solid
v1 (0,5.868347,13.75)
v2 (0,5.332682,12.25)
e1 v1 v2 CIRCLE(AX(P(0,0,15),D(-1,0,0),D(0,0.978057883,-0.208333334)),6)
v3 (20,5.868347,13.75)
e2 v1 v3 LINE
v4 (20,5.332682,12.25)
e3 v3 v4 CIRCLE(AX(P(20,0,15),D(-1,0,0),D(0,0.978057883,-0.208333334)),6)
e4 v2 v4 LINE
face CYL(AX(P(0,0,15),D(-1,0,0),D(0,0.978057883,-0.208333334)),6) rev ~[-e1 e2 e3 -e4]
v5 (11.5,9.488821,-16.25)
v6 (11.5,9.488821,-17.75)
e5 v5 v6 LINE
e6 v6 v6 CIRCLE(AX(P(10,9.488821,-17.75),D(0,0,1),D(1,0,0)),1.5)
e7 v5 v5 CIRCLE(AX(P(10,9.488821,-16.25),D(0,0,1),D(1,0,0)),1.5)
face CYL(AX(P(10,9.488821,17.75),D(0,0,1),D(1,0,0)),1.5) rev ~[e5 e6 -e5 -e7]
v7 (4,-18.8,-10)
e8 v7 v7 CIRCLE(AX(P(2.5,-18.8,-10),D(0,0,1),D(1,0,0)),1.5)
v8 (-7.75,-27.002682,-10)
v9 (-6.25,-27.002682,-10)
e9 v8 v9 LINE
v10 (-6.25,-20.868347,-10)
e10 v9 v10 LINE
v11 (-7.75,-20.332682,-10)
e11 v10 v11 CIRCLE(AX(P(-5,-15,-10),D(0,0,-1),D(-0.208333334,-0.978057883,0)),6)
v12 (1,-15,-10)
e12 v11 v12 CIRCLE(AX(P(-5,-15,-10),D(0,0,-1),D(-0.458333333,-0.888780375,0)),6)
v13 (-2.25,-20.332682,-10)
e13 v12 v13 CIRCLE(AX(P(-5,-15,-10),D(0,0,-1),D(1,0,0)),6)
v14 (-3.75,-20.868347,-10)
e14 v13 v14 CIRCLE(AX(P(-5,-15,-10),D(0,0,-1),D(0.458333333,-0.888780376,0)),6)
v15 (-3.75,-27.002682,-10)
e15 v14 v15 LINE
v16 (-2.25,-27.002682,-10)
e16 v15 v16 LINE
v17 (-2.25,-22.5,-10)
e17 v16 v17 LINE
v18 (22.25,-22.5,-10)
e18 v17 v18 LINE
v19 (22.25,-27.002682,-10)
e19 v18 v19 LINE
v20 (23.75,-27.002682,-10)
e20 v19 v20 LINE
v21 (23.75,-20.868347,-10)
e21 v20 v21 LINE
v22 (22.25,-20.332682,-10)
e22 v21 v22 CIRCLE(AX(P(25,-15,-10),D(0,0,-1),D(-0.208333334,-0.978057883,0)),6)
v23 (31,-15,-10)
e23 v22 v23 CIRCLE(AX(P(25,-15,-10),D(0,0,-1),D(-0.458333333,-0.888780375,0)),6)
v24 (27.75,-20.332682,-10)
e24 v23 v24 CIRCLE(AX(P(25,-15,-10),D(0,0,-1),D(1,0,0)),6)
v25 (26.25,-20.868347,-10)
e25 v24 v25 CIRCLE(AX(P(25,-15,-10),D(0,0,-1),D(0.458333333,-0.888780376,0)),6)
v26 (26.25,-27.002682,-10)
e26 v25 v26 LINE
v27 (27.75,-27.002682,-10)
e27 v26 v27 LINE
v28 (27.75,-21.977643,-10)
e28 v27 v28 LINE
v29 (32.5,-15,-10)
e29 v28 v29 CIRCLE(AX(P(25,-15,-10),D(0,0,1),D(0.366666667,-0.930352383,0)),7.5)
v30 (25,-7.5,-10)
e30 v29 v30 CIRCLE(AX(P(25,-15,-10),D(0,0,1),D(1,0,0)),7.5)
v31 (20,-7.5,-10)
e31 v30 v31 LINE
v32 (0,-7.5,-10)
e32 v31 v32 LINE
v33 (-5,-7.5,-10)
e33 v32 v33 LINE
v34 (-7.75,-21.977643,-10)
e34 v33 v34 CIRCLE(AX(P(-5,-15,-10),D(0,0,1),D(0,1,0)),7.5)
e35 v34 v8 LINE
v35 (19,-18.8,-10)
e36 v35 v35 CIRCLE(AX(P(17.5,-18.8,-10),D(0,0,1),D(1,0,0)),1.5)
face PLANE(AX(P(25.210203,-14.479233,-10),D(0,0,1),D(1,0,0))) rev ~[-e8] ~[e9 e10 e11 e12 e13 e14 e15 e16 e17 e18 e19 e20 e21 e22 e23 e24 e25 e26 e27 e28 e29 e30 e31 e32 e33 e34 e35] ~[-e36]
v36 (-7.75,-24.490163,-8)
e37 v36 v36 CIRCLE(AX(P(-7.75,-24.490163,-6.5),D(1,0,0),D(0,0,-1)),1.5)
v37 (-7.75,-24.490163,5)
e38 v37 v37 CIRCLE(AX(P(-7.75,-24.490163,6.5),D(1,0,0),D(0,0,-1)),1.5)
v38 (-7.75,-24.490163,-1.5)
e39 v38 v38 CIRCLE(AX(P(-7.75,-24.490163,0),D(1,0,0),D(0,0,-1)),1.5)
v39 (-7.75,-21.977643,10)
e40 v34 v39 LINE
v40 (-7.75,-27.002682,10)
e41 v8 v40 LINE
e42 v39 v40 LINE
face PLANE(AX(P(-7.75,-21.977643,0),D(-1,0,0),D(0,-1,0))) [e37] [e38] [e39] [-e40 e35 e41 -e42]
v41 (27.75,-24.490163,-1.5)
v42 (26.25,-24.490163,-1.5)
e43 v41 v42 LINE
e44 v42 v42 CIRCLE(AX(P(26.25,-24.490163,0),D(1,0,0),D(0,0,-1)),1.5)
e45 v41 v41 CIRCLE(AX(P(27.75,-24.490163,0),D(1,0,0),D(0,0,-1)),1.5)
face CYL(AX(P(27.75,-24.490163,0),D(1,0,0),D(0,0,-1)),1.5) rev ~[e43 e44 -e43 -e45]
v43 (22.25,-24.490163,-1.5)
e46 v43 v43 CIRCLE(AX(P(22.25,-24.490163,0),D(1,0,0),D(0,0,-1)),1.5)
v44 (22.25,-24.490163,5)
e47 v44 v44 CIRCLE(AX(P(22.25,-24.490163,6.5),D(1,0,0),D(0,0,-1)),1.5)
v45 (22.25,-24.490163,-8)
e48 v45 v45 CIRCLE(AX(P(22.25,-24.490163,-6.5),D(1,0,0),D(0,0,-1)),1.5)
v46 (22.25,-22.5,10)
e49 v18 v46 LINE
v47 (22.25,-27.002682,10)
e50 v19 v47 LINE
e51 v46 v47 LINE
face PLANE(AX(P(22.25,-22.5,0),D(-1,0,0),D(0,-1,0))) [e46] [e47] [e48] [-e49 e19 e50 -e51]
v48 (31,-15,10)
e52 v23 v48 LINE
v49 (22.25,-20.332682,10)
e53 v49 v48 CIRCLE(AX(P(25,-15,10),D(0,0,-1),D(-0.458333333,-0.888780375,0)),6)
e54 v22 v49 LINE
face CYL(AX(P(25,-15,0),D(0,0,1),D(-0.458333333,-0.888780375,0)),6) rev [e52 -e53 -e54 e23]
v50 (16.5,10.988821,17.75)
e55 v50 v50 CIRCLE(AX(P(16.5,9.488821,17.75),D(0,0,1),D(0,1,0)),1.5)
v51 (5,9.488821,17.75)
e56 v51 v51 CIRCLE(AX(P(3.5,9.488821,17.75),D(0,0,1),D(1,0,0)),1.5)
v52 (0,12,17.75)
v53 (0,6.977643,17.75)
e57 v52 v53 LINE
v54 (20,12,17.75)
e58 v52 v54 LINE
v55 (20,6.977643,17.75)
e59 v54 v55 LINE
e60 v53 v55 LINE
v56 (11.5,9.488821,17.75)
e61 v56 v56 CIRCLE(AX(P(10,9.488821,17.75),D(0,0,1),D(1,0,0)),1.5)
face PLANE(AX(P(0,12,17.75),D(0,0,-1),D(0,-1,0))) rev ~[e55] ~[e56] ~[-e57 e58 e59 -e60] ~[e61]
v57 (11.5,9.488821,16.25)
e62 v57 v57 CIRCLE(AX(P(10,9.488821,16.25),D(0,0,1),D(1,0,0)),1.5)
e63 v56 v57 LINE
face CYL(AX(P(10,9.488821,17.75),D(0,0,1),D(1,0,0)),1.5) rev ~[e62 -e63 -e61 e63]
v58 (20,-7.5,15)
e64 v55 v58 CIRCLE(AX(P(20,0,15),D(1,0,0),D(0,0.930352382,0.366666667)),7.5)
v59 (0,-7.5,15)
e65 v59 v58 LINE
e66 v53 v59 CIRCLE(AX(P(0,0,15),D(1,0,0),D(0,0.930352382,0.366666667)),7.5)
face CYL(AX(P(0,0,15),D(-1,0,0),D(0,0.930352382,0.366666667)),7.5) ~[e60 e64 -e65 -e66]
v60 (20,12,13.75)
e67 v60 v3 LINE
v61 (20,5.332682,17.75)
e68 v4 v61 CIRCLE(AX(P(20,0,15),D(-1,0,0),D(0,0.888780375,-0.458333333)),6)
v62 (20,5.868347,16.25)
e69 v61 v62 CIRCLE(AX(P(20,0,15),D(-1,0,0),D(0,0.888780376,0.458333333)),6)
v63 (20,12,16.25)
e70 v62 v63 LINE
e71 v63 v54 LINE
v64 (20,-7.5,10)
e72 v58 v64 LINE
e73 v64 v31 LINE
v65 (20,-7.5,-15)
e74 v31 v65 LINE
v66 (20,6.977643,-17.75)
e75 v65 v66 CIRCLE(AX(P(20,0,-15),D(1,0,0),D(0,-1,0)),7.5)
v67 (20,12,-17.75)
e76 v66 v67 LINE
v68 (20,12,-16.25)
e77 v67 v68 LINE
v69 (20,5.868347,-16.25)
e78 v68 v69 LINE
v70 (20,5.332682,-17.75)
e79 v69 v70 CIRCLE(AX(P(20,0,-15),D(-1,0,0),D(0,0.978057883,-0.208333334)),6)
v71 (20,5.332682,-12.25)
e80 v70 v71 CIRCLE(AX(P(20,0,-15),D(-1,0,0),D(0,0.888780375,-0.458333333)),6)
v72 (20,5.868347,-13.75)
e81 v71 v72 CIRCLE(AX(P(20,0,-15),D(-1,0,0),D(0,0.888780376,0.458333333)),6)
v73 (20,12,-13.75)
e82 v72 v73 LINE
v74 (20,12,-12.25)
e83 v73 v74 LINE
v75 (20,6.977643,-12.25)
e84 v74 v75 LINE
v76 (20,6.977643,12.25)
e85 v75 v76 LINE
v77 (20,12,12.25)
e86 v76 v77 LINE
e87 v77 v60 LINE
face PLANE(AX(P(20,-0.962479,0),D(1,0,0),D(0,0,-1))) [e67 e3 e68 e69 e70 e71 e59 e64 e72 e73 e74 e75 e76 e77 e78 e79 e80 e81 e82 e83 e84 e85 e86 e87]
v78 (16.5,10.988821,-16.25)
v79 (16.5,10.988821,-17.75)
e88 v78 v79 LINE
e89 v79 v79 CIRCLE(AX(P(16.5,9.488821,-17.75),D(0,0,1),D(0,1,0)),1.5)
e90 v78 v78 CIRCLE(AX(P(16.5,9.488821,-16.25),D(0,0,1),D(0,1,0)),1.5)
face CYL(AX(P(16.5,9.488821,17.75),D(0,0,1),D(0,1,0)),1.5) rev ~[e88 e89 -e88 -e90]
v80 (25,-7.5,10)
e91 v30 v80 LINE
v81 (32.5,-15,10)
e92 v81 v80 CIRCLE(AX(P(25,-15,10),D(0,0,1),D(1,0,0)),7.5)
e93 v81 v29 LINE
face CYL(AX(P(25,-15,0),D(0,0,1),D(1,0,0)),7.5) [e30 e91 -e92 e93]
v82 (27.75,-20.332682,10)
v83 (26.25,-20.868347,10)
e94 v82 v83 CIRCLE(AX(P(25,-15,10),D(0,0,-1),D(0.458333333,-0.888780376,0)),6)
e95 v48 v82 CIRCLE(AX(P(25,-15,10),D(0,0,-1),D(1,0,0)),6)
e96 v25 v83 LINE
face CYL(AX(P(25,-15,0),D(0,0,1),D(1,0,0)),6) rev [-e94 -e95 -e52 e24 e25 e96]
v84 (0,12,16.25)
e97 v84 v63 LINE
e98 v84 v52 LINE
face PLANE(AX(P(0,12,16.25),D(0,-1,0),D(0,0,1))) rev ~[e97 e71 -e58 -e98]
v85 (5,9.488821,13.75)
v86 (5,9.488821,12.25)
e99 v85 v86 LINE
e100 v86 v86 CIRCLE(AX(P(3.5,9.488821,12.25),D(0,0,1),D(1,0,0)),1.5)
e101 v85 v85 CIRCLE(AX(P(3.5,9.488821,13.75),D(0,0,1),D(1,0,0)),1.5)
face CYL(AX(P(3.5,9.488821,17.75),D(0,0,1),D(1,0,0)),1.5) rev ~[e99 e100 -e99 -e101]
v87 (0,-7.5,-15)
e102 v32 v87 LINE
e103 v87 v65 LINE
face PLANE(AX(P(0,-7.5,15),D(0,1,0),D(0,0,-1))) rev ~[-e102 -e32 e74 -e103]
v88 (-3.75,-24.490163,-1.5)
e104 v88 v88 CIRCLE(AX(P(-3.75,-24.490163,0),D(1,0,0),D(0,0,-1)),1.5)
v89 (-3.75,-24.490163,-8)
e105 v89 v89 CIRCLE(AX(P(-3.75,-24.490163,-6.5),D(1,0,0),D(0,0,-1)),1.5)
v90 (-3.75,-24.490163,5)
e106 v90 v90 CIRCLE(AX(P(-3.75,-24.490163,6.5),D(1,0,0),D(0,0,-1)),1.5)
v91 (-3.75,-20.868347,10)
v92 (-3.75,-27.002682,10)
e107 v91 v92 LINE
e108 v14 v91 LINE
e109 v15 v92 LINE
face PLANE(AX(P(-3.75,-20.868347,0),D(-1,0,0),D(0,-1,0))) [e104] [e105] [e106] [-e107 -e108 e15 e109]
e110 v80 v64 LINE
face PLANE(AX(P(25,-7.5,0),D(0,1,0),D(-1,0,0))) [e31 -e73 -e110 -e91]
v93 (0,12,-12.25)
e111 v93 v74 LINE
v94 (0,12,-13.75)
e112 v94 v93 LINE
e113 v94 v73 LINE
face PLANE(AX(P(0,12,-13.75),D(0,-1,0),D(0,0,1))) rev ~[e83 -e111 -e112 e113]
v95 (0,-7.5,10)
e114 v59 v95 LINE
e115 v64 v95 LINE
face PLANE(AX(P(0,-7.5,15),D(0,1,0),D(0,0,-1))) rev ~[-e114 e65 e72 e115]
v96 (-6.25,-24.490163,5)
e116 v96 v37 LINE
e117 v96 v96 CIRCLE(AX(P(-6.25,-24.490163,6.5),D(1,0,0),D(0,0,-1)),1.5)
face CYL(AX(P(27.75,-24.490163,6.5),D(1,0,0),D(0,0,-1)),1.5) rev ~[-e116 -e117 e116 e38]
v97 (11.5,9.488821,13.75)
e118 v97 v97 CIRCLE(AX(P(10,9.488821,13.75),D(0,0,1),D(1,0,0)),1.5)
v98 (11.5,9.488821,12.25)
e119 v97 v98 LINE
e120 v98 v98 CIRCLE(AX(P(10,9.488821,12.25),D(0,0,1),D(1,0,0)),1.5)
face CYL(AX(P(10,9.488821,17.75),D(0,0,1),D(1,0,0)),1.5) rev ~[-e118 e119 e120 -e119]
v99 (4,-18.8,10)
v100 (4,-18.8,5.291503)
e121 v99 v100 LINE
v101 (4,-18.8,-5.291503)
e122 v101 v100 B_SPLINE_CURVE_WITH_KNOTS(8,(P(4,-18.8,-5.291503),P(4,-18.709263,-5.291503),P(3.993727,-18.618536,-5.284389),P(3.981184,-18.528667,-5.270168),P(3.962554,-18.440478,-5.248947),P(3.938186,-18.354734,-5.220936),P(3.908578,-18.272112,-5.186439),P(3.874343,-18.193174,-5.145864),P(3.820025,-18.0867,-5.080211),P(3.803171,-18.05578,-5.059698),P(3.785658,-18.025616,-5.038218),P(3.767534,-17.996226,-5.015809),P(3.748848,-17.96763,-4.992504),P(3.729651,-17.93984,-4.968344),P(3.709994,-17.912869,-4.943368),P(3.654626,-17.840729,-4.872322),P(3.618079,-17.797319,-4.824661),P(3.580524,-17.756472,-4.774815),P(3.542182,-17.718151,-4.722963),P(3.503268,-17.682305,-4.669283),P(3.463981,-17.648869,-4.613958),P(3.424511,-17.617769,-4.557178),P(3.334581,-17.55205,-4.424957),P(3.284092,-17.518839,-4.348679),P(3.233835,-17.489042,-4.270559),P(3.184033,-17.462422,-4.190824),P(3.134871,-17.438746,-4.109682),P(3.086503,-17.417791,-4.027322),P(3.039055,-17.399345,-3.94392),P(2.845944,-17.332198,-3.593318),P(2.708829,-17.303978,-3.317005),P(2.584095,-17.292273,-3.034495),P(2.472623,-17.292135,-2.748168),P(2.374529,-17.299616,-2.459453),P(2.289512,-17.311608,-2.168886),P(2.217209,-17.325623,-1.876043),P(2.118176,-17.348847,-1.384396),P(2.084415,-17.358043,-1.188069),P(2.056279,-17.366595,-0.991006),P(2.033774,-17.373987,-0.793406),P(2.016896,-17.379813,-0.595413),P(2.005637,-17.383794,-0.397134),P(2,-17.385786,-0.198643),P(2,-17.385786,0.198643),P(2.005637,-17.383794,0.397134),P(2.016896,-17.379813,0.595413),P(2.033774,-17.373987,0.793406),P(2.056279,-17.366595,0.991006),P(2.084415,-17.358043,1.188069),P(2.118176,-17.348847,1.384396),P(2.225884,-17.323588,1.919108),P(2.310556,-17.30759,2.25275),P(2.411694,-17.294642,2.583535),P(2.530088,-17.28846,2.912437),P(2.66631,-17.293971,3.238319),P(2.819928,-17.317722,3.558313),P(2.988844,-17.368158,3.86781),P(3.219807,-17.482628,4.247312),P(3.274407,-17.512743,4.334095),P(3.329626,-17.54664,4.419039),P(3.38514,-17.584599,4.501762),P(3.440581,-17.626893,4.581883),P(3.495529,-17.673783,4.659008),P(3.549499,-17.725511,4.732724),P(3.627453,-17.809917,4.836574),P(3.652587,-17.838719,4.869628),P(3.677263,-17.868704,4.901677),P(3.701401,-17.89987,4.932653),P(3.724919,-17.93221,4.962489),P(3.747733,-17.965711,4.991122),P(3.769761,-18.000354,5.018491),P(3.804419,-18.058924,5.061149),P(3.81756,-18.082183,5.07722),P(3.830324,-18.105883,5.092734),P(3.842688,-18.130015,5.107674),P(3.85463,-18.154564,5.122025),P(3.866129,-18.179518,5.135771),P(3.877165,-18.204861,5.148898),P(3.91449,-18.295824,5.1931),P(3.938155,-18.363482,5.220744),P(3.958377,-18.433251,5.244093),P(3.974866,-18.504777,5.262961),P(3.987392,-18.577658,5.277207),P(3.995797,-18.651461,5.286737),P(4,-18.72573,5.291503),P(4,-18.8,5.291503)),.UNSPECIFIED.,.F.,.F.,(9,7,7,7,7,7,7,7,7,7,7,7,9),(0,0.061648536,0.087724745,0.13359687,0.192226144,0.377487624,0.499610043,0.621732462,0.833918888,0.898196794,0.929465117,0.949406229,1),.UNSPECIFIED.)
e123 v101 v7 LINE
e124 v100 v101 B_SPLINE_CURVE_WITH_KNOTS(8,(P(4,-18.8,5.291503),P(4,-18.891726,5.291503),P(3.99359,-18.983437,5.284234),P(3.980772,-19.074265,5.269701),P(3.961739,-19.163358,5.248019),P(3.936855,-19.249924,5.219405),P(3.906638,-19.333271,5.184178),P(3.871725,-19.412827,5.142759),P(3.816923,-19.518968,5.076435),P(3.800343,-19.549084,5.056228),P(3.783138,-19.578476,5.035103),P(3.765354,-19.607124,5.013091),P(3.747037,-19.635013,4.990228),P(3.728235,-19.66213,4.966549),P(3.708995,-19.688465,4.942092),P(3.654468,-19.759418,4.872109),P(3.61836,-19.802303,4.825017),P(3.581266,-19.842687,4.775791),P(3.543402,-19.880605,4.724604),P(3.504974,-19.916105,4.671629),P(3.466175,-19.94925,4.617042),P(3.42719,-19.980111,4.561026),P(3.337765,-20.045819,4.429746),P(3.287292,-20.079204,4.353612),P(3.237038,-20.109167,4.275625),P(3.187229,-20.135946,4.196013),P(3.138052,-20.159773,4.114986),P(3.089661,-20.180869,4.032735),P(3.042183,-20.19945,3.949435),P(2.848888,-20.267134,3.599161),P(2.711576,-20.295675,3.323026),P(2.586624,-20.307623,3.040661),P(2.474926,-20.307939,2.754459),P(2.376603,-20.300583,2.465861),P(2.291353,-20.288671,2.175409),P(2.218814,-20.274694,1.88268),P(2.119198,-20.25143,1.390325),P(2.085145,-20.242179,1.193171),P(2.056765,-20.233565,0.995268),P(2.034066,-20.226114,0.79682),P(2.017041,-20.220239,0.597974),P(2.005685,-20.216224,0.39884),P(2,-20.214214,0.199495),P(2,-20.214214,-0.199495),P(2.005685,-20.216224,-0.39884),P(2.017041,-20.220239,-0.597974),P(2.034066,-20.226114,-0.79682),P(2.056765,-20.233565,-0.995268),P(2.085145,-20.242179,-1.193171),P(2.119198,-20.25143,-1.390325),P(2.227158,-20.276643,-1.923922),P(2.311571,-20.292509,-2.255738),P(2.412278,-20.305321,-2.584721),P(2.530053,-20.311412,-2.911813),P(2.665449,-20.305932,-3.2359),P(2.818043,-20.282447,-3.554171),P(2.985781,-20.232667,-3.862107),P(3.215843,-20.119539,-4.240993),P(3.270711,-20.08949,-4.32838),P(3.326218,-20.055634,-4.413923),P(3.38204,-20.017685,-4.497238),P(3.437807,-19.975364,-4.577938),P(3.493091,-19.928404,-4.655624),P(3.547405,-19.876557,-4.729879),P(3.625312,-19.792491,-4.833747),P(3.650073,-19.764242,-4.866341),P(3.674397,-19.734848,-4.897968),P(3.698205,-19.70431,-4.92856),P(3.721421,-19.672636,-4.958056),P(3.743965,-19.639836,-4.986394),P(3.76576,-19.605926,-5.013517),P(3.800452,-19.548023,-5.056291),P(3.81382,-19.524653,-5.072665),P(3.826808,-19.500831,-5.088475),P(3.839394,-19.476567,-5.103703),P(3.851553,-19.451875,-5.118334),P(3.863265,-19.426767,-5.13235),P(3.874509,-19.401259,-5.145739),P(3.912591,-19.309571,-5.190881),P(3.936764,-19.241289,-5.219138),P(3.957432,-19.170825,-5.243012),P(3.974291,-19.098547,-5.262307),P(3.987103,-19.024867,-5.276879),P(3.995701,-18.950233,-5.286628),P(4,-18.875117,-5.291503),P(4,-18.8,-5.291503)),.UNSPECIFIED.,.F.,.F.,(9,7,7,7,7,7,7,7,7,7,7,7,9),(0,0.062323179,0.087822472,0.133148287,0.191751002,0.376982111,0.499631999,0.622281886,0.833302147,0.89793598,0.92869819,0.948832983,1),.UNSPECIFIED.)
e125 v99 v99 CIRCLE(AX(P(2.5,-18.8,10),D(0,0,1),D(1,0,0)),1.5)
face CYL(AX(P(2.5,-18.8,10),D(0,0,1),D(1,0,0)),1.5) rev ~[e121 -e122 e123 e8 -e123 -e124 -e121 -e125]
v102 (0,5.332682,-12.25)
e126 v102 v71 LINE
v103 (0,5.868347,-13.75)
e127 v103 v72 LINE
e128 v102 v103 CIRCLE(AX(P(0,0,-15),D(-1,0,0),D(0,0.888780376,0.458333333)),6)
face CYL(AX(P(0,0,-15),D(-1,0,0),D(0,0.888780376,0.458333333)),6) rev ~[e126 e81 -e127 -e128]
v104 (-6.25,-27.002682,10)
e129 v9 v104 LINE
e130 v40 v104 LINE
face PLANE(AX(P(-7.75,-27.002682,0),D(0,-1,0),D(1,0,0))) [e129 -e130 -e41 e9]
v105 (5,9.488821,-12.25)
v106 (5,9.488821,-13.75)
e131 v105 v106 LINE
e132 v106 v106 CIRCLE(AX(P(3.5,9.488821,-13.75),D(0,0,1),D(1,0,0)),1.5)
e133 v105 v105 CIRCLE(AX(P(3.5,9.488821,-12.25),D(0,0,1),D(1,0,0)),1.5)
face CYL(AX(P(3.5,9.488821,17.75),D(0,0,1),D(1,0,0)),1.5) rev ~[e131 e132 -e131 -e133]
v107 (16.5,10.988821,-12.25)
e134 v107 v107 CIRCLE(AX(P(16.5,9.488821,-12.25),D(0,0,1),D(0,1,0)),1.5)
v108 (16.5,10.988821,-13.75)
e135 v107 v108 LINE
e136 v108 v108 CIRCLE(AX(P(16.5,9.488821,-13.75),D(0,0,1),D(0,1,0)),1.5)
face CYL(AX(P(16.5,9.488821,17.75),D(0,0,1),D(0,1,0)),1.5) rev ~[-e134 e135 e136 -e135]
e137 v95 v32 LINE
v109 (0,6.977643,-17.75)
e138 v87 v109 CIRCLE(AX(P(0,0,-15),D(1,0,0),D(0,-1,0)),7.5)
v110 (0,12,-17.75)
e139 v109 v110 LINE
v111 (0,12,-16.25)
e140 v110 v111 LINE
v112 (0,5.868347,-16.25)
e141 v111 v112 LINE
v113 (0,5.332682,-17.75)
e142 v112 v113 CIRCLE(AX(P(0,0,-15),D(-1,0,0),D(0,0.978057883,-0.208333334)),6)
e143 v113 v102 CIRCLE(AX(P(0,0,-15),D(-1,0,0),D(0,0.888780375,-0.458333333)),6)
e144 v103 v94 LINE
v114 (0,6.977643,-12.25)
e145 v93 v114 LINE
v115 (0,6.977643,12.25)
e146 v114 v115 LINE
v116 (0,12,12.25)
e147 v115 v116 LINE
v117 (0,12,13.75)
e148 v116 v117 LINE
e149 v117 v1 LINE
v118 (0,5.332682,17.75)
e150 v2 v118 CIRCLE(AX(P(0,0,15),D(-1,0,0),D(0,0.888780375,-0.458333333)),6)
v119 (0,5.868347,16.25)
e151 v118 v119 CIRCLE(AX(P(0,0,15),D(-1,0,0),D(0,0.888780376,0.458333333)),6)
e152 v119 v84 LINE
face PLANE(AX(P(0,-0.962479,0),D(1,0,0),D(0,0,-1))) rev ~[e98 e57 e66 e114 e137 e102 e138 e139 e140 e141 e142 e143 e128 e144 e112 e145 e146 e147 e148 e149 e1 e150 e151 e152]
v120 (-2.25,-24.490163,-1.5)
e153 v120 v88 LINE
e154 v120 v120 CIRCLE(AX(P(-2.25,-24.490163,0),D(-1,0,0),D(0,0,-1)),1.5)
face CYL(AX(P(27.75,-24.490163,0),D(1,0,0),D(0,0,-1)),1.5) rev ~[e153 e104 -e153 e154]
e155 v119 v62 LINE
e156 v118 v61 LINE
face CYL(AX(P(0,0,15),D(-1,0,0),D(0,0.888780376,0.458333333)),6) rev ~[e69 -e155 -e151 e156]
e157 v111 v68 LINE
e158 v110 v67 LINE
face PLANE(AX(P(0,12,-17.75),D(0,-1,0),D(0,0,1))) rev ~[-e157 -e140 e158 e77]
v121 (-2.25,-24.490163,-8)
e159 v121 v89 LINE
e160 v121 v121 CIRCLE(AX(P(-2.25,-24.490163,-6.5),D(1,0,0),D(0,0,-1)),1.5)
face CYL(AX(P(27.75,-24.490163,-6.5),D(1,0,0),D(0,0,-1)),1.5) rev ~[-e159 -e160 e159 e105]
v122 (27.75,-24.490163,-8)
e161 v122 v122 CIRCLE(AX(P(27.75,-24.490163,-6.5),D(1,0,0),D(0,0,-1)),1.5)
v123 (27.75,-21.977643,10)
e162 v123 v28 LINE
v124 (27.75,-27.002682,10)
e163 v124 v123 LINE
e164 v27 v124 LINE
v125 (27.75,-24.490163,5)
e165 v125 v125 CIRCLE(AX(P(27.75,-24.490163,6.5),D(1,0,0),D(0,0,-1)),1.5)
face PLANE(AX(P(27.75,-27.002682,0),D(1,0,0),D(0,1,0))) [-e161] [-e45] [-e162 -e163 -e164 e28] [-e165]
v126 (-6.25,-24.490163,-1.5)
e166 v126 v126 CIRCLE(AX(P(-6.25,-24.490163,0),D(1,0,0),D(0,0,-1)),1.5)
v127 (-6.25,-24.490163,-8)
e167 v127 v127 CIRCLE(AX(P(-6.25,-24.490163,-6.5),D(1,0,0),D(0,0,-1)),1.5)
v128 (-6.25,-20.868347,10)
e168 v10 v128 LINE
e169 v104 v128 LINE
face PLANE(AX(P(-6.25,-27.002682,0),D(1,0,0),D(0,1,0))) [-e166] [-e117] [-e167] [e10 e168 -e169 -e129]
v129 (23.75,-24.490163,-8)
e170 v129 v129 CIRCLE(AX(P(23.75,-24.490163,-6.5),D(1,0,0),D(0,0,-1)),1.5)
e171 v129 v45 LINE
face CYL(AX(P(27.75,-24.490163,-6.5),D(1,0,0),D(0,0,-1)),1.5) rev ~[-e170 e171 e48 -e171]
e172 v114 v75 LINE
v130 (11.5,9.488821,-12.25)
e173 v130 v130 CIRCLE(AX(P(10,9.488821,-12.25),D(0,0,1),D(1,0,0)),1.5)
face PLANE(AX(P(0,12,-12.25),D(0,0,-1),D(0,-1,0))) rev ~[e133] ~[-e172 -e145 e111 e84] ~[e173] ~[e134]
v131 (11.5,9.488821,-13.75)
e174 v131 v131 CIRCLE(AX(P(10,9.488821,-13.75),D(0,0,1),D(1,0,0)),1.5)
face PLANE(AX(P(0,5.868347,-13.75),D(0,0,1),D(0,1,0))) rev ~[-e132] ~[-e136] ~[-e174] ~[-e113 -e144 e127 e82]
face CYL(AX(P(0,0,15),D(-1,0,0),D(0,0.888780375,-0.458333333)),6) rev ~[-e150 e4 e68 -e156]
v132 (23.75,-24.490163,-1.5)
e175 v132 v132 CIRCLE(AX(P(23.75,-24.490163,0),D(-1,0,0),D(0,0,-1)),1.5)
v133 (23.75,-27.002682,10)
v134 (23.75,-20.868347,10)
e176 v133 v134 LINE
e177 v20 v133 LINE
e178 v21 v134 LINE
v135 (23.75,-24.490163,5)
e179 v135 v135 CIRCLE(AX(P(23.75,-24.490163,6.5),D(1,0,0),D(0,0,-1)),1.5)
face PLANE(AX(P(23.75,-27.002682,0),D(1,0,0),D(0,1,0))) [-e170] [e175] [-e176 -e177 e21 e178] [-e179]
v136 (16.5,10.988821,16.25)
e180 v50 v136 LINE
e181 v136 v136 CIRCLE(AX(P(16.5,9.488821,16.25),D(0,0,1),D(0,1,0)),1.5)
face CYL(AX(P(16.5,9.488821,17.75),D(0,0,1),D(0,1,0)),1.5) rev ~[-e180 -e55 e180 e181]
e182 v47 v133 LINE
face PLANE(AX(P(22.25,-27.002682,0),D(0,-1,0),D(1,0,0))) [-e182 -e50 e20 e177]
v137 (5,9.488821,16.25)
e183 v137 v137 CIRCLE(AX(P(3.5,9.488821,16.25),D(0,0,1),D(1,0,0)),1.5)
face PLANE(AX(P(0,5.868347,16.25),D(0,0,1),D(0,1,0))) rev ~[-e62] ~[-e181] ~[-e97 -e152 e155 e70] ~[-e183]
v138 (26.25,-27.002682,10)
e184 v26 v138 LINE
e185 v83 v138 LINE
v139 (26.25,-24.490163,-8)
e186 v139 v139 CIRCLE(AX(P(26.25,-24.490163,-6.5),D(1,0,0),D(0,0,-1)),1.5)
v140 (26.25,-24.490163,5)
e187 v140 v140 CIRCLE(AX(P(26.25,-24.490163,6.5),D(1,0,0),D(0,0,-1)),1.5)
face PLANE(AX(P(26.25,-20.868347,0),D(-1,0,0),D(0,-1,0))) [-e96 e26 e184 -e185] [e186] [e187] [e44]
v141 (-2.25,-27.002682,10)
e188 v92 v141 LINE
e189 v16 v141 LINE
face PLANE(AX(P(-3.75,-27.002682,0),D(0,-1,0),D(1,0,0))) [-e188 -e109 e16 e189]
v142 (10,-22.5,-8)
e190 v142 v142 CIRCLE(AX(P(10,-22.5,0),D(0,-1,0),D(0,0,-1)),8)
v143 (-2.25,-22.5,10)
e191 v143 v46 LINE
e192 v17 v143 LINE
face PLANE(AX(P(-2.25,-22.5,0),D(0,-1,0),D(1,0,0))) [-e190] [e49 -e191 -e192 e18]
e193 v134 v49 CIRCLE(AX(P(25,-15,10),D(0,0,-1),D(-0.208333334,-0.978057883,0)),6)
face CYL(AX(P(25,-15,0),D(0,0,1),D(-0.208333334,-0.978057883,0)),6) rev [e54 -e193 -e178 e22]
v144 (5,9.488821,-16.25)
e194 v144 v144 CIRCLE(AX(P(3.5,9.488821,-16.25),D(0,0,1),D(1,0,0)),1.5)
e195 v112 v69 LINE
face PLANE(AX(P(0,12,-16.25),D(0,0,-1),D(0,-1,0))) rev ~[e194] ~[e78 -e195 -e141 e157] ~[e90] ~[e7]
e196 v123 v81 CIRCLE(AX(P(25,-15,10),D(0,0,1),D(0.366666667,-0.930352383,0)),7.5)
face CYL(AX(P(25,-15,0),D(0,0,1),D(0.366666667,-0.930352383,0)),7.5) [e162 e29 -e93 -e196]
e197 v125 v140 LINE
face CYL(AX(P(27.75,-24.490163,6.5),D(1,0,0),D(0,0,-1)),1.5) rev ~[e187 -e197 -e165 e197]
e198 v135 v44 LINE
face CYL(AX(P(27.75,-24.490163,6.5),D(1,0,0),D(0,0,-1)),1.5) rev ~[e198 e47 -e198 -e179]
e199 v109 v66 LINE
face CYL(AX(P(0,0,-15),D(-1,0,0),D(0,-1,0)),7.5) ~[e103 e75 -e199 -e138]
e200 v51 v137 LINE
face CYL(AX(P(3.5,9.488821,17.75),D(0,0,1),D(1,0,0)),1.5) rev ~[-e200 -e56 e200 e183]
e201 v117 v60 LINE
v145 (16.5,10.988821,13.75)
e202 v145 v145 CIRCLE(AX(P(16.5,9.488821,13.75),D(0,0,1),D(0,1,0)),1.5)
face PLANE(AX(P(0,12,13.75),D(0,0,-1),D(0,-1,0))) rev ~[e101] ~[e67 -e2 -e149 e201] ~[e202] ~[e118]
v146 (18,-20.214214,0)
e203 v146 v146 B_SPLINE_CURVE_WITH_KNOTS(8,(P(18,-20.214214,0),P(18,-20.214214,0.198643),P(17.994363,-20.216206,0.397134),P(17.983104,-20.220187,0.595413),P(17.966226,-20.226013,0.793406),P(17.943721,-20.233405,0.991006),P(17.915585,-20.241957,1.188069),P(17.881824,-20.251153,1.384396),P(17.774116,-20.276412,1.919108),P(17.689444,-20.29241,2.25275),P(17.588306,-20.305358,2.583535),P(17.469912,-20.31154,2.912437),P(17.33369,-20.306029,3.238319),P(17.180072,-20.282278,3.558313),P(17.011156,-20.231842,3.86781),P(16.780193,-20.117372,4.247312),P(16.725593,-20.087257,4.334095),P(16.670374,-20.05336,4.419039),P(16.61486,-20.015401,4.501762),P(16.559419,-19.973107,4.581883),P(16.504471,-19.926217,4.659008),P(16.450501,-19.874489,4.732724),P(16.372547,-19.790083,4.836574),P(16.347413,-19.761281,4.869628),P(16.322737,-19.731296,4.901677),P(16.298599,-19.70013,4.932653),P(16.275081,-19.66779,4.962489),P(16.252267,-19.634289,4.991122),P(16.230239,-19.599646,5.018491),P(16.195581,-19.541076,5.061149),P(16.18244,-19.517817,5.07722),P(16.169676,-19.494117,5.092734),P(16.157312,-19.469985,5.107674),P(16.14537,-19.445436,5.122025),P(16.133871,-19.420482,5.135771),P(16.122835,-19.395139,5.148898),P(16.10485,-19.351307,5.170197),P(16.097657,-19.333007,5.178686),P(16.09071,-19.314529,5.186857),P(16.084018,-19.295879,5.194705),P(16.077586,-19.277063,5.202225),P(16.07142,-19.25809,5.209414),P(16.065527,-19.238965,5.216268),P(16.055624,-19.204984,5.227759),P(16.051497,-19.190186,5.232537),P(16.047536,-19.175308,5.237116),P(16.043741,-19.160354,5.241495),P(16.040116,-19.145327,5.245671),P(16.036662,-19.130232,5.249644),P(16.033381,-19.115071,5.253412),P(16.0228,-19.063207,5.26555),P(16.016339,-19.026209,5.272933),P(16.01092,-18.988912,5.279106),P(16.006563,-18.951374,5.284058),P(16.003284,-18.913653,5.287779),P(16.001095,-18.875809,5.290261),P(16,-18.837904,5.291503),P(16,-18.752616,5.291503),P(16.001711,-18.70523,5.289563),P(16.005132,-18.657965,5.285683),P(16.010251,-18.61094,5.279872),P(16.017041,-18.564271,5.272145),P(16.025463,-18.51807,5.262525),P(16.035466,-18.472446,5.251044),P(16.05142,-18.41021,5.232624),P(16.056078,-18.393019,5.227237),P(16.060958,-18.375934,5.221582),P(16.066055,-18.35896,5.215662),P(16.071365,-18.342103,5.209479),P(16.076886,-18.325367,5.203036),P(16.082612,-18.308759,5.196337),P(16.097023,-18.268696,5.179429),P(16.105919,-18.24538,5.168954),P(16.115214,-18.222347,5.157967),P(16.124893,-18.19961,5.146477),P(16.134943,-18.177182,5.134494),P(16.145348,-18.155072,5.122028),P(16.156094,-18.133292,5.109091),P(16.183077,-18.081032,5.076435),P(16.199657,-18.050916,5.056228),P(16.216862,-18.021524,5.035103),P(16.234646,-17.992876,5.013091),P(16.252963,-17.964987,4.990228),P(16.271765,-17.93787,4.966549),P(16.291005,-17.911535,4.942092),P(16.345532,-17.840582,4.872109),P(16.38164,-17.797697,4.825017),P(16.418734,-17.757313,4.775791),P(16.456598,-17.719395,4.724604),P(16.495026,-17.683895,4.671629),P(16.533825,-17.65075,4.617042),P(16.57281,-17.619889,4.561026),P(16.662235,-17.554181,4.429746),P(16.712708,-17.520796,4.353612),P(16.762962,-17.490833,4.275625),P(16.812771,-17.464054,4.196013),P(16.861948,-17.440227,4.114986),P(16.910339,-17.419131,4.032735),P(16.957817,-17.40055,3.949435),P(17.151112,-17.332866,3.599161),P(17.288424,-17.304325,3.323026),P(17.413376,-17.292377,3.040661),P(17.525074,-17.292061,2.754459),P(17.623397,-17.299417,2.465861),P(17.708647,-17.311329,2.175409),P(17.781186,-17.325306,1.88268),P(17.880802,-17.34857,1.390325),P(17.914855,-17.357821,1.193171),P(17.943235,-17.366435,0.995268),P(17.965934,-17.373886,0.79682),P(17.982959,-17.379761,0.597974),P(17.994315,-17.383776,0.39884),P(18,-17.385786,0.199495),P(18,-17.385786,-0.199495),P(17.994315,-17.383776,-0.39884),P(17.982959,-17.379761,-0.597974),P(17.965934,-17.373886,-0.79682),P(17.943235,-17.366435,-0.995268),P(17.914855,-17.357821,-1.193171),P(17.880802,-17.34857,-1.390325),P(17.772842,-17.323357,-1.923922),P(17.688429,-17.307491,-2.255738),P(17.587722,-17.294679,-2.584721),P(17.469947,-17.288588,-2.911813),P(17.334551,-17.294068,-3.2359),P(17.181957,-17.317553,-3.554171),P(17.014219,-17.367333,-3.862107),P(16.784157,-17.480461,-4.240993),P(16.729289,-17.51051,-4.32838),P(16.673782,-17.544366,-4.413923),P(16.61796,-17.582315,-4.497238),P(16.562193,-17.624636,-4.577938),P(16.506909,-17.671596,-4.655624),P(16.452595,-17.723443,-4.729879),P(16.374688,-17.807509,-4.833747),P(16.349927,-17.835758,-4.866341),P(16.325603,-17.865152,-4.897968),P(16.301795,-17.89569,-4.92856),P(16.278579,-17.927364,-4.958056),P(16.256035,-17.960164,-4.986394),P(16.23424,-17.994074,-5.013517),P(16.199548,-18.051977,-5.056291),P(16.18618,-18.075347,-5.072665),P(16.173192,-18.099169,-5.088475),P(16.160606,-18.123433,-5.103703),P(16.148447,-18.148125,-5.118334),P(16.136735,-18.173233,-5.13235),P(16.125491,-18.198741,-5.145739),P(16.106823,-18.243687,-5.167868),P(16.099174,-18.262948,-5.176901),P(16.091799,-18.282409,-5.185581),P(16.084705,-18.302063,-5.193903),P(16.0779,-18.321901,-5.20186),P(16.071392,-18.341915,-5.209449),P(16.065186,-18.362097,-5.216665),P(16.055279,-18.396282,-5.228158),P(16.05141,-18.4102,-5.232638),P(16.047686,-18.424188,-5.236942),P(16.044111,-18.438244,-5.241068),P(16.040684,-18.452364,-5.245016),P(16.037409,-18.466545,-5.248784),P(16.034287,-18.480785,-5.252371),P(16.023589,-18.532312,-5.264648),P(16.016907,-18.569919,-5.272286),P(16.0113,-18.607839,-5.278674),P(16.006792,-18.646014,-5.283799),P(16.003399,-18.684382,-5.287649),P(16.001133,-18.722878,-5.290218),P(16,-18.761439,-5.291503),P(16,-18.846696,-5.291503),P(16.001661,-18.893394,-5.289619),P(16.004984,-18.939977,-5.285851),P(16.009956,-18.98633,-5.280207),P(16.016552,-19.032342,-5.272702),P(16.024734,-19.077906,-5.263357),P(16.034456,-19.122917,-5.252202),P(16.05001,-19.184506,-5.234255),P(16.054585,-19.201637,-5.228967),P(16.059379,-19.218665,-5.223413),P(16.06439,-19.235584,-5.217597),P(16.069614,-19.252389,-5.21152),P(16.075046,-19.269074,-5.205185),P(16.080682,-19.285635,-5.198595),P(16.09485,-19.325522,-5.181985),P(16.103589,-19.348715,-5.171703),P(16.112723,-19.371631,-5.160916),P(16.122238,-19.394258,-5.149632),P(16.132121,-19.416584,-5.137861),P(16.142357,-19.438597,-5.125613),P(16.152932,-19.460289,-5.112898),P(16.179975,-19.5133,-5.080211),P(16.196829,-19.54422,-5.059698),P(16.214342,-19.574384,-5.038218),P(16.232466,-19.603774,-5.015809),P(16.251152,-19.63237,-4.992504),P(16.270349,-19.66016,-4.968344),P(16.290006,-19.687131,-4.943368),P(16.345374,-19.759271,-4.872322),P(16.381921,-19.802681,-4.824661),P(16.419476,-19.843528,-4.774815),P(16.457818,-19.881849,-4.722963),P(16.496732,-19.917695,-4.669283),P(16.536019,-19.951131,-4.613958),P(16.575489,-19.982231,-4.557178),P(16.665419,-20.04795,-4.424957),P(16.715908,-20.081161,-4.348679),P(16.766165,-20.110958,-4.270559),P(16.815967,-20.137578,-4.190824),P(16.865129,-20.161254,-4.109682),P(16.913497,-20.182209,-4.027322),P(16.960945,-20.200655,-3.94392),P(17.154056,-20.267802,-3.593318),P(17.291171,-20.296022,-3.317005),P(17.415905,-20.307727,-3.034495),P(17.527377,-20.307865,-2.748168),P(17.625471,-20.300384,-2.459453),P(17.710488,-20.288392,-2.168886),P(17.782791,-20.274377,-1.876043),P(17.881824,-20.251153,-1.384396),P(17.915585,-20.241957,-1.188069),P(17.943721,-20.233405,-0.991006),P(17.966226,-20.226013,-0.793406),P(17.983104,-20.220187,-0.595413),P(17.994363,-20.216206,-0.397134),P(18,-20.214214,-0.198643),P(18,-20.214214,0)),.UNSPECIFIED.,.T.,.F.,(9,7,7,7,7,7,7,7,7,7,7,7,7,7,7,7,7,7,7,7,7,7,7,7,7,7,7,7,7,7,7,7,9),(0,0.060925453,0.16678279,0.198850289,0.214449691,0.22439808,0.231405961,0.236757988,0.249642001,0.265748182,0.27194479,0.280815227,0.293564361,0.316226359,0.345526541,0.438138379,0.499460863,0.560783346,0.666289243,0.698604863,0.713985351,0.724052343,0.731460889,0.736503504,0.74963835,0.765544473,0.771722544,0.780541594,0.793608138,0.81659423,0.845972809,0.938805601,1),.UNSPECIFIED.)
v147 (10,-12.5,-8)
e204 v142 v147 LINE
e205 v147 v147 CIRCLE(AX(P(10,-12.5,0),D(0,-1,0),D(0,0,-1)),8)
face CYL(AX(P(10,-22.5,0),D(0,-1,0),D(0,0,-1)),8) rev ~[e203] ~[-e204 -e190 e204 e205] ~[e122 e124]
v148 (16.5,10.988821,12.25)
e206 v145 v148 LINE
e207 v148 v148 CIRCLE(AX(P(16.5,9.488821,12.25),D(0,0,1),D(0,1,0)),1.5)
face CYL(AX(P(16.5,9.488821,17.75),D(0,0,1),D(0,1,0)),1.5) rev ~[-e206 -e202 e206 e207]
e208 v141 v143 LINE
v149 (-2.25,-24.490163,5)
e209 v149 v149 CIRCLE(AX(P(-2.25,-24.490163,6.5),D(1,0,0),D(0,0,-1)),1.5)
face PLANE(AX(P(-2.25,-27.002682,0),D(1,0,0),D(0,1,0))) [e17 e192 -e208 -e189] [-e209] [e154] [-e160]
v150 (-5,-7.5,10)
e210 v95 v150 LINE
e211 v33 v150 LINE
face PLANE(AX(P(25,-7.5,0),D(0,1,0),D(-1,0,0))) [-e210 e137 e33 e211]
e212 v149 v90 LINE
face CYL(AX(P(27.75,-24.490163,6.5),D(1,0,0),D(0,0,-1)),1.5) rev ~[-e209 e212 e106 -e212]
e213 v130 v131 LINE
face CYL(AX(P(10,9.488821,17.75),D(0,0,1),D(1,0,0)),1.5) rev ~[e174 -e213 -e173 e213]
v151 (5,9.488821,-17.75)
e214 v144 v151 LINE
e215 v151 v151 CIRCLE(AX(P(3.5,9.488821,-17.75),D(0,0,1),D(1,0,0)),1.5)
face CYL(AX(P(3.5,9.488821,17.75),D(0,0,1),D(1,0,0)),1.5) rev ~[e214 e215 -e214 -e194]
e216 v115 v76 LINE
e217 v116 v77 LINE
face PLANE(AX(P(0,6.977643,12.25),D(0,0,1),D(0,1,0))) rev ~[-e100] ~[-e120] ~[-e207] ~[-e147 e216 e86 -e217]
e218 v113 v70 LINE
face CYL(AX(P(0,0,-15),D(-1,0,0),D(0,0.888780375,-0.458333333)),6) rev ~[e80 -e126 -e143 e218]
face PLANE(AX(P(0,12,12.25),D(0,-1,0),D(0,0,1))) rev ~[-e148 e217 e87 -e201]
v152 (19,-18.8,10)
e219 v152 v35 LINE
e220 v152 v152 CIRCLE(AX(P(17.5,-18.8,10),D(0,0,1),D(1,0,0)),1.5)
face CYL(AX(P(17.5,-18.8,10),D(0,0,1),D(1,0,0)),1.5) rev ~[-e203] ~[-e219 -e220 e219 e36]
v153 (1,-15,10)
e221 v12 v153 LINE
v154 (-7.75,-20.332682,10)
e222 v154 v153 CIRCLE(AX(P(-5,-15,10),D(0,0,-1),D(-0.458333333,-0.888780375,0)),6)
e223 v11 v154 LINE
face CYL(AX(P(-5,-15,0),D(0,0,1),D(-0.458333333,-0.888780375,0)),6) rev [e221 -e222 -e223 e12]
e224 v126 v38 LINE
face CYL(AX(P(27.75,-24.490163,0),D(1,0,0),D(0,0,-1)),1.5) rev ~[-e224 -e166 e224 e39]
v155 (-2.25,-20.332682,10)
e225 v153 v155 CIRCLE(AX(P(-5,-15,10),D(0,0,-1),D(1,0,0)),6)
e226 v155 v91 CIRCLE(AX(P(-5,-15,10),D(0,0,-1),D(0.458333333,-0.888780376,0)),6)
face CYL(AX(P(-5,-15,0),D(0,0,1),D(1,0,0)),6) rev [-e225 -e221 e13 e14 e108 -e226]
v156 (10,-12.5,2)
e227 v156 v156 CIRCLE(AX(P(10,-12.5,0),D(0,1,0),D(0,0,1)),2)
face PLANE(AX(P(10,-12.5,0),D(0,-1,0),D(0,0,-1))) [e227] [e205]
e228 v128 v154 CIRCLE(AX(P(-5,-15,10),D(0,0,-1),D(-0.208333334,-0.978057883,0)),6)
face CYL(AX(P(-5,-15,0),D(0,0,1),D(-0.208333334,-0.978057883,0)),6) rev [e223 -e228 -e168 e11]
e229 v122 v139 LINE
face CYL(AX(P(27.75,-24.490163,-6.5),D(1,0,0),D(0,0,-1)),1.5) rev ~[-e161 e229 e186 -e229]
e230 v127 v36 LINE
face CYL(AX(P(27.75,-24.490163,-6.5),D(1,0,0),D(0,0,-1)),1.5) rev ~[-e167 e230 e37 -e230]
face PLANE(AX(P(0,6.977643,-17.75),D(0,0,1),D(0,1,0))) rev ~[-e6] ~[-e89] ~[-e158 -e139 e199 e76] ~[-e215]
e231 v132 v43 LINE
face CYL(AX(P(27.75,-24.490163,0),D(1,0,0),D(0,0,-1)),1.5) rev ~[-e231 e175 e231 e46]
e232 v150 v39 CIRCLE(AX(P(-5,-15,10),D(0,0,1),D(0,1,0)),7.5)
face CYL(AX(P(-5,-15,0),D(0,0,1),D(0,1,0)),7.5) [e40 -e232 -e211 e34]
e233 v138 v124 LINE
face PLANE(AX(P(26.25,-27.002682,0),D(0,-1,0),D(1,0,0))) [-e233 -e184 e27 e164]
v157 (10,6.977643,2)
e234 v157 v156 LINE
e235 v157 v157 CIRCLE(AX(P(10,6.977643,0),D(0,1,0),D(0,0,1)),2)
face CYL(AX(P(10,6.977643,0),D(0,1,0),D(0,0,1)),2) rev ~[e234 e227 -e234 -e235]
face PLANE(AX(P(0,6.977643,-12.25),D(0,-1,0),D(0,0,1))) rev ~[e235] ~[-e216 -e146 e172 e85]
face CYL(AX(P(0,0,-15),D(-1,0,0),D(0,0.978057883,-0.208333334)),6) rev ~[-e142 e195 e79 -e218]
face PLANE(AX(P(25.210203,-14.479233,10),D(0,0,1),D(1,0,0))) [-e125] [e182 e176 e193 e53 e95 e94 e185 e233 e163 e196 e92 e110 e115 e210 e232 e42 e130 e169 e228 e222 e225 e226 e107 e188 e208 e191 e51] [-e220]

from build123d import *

# Parameters (mm, degrees)
EXTRUDE_1_DEPTH     = 20
SKETCH_2_R          = 1.5
CUT_EXTRUDE_1_DEPTH = 47.519485165
SKETCH_5_W          = 1.5
SKETCH_5_H          = 4.502682252
EXTRUDE_2_DEPTH     = 10
SKETCH_6_R          = 1.5
CUT_EXTRUDE_2_DEPTH = 54.43647957
SKETCH_7_R          = 2
CUT_EXTRUDE_3_DEPTH = 53.126408809
SKETCH_8_R          = 8
CUT_EXTRUDE_4_DEPTH = 10
SKETCH_9_R          = 1.5
CUT_EXTRUDE_5_DEPTH = 54.307080663


with BuildPart() as part:
    # 스케치1 → 보스-돌출1 (new body)
    with BuildSketch(Plane(origin=(0, 0, 0), x_dir=(0, 0, -1), z_dir=(1, 0, 0))):
        with BuildLine():
            ThreePointArc((-12.25, 6.977642868), (-7.631746424, -1.399585383), (-15, -7.5))
            Line((-15, -7.5), (15, -7.5))
            ThreePointArc((15, -7.5), (7.631746424, -1.399585383), (12.25, 6.977642868))
            Line((12.25, 6.977642868), (-12.25, 6.977642868))
        make_face()
        with BuildLine():
            Line((-17.75, 5.332682252), (-17.75, 6.977642868))
            ThreePointArc((-17.75, 6.977642868), (-22.368253576, -1.399585383), (-15, -7.5))
            ThreePointArc((-15, -7.5), (-7.631746424, -1.399585383), (-12.25, 6.977642868))
            Line((-12.25, 6.977642868), (-12.25, 5.332682252))
            ThreePointArc((-12.25, 5.332682252), (-15, -6), (-17.75, 5.332682252))
        make_face()
        with BuildLine():
            ThreePointArc((-13.75, 5.868347297), (-12.982146125, 5.650510219), (-12.25, 5.332682252))
            Line((-12.25, 5.332682252), (-12.25, 6.977642868))
            ThreePointArc((-12.25, 6.977642868), (-12.989137608, 7.225401888), (-13.75, 7.395099729))
            Line((-13.75, 7.395099729), (-13.75, 5.868347297))
        make_face()
        with BuildLine():
            ThreePointArc((-16.25, 7.395099729), (-17.010862392, 7.225401888), (-17.75, 6.977642868))
            Line((-17.75, 6.977642868), (-17.75, 5.332682252))
            ThreePointArc((-17.75, 5.332682252), (-17.017853875, 5.650510219), (-16.25, 5.868347297))
            Line((-16.25, 5.868347297), (-16.25, 7.395099729))
        make_face()
        with BuildLine():
            Line((-16.25, 12), (-17.75, 12))
            Line((-17.75, 12), (-17.75, 6.977642868))
            ThreePointArc((-17.75, 6.977642868), (-17.010862392, 7.225401888), (-16.25, 7.395099729))
            Line((-16.25, 7.395099729), (-16.25, 10.5))
            Line((-16.25, 10.5), (-16.25, 12))
        make_face()
        with BuildLine():
            ThreePointArc((-13.75, 7.395099729), (-12.989137608, 7.225401888), (-12.25, 6.977642868))
            Line((-12.25, 6.977642868), (-12.25, 12))
            Line((-12.25, 12), (-13.75, 12))
            Line((-13.75, 12), (-13.75, 10.5))
            Line((-13.75, 10.5), (-13.75, 7.395099729))
        make_face()
        with BuildLine():
            ThreePointArc((12.25, 6.977642868), (7.631746424, -1.399585383), (15, -7.5))
            ThreePointArc((15, -7.5), (22.368253576, -1.399585383), (17.75, 6.977642868))
            Line((17.75, 6.977642868), (17.75, 5.332682252))
            ThreePointArc((17.75, 5.332682252), (15, -6), (12.25, 5.332682252))
            Line((12.25, 5.332682252), (12.25, 6.977642868))
        make_face()
        with BuildLine():
            Line((17.75, 5.332682252), (17.75, 6.977642868))
            ThreePointArc((17.75, 6.977642868), (17.010862392, 7.225401888), (16.25, 7.395099729))
            Line((16.25, 7.395099729), (16.25, 5.868347297))
            ThreePointArc((16.25, 5.868347297), (17.017853875, 5.650510219), (17.75, 5.332682252))
        make_face()
        with BuildLine():
            ThreePointArc((16.25, 7.395099729), (17.010862392, 7.225401888), (17.75, 6.977642868))
            Line((17.75, 6.977642868), (17.75, 12))
            Line((17.75, 12), (16.25, 12))
            Line((16.25, 12), (16.25, 10.5))
            Line((16.25, 10.5), (16.25, 7.395099729))
        make_face()
        with BuildLine():
            Line((12.25, 12), (12.25, 6.977642868))
            ThreePointArc((12.25, 6.977642868), (12.989137608, 7.225401888), (13.75, 7.395099729))
            Line((13.75, 7.395099729), (13.75, 10.5))
            Line((13.75, 10.5), (13.75, 12))
            Line((13.75, 12), (12.25, 12))
        make_face()
        with BuildLine():
            ThreePointArc((13.75, 7.395099729), (12.989137608, 7.225401888), (12.25, 6.977642868))
            Line((12.25, 6.977642868), (12.25, 5.332682252))
            ThreePointArc((12.25, 5.332682252), (12.982146125, 5.650510219), (13.75, 5.868347297))
            Line((13.75, 5.868347297), (13.75, 7.395099729))
        make_face()
    extrude(amount=EXTRUDE_1_DEPTH)

    # 스케치2 → 컷-돌출1 (cut, through all)
    with BuildSketch(Plane.XY.offset(17.75)):
        with Locations((3.5, 9.488821434)):
            Circle(SKETCH_2_R)
        with Locations((10, 9.488821434)):
            Circle(SKETCH_2_R)
        with Locations(Location((16.5, 9.488821434, 0), (0, 0, 90))):
            Circle(SKETCH_2_R)
    extrude(amount=-CUT_EXTRUDE_1_DEPTH, mode=Mode.SUBTRACT)

    # 스케치5 → 보스-돌출2 (add, symmetric)
    with BuildSketch(Plane.XY):
        with BuildLine():
            ThreePointArc((32.5, -15), (30.303300859, -9.696699141), (25, -7.5))
            ThreePointArc((25, -7.5), (17.631746424, -13.600414617), (22.25, -21.977642868))
            Line((22.25, -21.977642868), (22.25, -20.332682252))
            ThreePointArc((22.25, -20.332682252), (21.877501001, -9.876524617), (31, -15))
            ThreePointArc((31, -15), (30.123475383, -18.122498999), (27.75, -20.332682252))
            Line((27.75, -20.332682252), (27.75, -21.977642868))
            ThreePointArc((27.75, -21.977642868), (31.199798384, -19.220485754), (32.5, -15))
        make_face()
        with BuildLine():
            Line((22.25, -20.332682252), (22.25, -21.977642868))
            ThreePointArc((22.25, -21.977642868), (22.989137608, -22.225401888), (23.75, -22.395099729))
            Line((23.75, -22.395099729), (23.75, -20.868347297))
            ThreePointArc((23.75, -20.868347297), (22.982146125, -20.650510219), (22.25, -20.332682252))
        make_face()
        with BuildLine():
            ThreePointArc((26.25, -22.395099729), (27.010862392, -22.225401888), (27.75, -21.977642868))
            Line((27.75, -21.977642868), (27.75, -20.332682252))
            ThreePointArc((27.75, -20.332682252), (27.017853875, -20.650510219), (26.25, -20.868347297))
            Line((26.25, -20.868347297), (26.25, -22.395099729))
        make_face()
        with BuildLine():
            Line((27.75, -27.002682252), (27.75, -21.977642868))
            ThreePointArc((27.75, -21.977642868), (27.010862392, -22.225401888), (26.25, -22.395099729))
            Line((26.25, -22.395099729), (26.25, -27.002682252))
            Line((26.25, -27.002682252), (27.75, -27.002682252))
        make_face()
        with BuildLine():
            ThreePointArc((23.75, -22.395099729), (22.989137608, -22.225401888), (22.25, -21.977642868))
            Line((22.25, -21.977642868), (22.25, -22.5))
            Line((22.25, -22.5), (23.75, -22.5))
            Line((23.75, -22.5), (23.75, -22.395099729))
        make_face()
        with Locations((23, -24.751341126)):
            Rectangle(SKETCH_5_W, SKETCH_5_H)
        with BuildLine():
            ThreePointArc((22.25, -21.977642868), (17.631746424, -13.600414617), (25, -7.5))
            Line((25, -7.5), (20, -7.5))
            Line((20, -7.5), (0, -7.5))
            Line((0, -7.5), (-5, -7.5))
            ThreePointArc((-5, -7.5), (0.303300859, -9.696699141), (2.5, -15))
            ThreePointArc((2.5, -15), (1.199798384, -19.220485754), (-2.25, -21.977642868))
            Line((-2.25, -21.977642868), (-2.25, -22.5))
            Line((-2.25, -22.5), (22.25, -22.5))
            Line((22.25, -22.5), (22.25, -21.977642868))
        make_face()
        with BuildLine():
            ThreePointArc((2.5, -15), (0.303300859, -9.696699141), (-5, -7.5))
            ThreePointArc((-5, -7.5), (-12.368253576, -13.600414617), (-7.75, -21.977642868))
            Line((-7.75, -21.977642868), (-7.75, -20.332682252))
            ThreePointArc((-7.75, -20.332682252), (-8.122498999, -9.876524617), (1, -15))
            ThreePointArc((1, -15), (0.123475383, -18.122498999), (-2.25, -20.332682252))
            Line((-2.25, -20.332682252), (-2.25, -21.977642868))
            ThreePointArc((-2.25, -21.977642868), (1.199798384, -19.220485754), (2.5, -15))
        make_face()
        with BuildLine():
            Line((-7.75, -20.332682252), (-7.75, -21.977642868))
            ThreePointArc((-7.75, -21.977642868), (-7.010862392, -22.225401888), (-6.25, -22.395099729))
            Line((-6.25, -22.395099729), (-6.25, -20.868347297))
            ThreePointArc((-6.25, -20.868347297), (-7.017853875, -20.650510219), (-7.75, -20.332682252))
        make_face()
        with BuildLine():
            ThreePointArc((-6.25, -22.395099729), (-7.010862392, -22.225401888), (-7.75, -21.977642868))
            Line((-7.75, -21.977642868), (-7.75, -27.002682252))
            Line((-7.75, -27.002682252), (-6.25, -27.002682252))
            Line((-6.25, -27.002682252), (-6.25, -22.395099729))
        make_face()
        with BuildLine():
            Line((-3.75, -22.5), (-2.25, -22.5))
            Line((-2.25, -22.5), (-2.25, -21.977642868))
            ThreePointArc((-2.25, -21.977642868), (-2.989137608, -22.225401888), (-3.75, -22.395099729))
            Line((-3.75, -22.395099729), (-3.75, -22.5))
        make_face()
        with Locations((-3, -24.751341126)):
            Rectangle(SKETCH_5_W, SKETCH_5_H)
        with BuildLine():
            ThreePointArc((-3.75, -22.395099729), (-2.989137608, -22.225401888), (-2.25, -21.977642868))
            Line((-2.25, -21.977642868), (-2.25, -20.332682252))
            ThreePointArc((-2.25, -20.332682252), (-2.982146125, -20.650510219), (-3.75, -20.868347297))
            Line((-3.75, -20.868347297), (-3.75, -22.395099729))
        make_face()
    extrude(amount=EXTRUDE_2_DEPTH, both=True)

    # 스케치6 → 컷-돌출2 (cut, through all)
    with BuildSketch(Plane(origin=(27.75, 0, 0), x_dir=(0, 0, -1), z_dir=(1, 0, 0))):
        with Locations((-6.5, -24.49016256)):
            Circle(SKETCH_6_R)
        with Locations((0, -24.49016256)):
            Circle(SKETCH_6_R)
        with Locations((6.5, -24.49016256)):
            Circle(SKETCH_6_R)
    extrude(amount=-CUT_EXTRUDE_2_DEPTH, mode=Mode.SUBTRACT)

    # 스케치7 → 컷-돌출3 (cut, through all)
    with BuildSketch(Plane(origin=(0, 6.977642868, 0), x_dir=(1, 0, 0), z_dir=(0, 1, 0))):
        with Locations(Location((10, 0, 0), (0, 0, 270))):
            Circle(SKETCH_7_R)
    extrude(amount=-CUT_EXTRUDE_3_DEPTH, mode=Mode.SUBTRACT)

    # 스케치8 → 컷-돌출4 (cut)
    with BuildSketch(Plane.XZ.offset(22.5)):
        with Locations(Location((10, 0, 0), (0, 0, 270))):
            Circle(SKETCH_8_R)
    extrude(amount=-CUT_EXTRUDE_4_DEPTH, mode=Mode.SUBTRACT)

    # 스케치9 → 컷-돌출5 (cut, through all)
    with BuildSketch(Plane.XY.offset(10)):
        with Locations((17.5, -18.8)):
            Circle(SKETCH_9_R)
        with Locations((2.5, -18.8)):
            Circle(SKETCH_9_R)
    extrude(amount=-CUT_EXTRUDE_5_DEPTH, mode=Mode.SUBTRACT)


solid = part.part
